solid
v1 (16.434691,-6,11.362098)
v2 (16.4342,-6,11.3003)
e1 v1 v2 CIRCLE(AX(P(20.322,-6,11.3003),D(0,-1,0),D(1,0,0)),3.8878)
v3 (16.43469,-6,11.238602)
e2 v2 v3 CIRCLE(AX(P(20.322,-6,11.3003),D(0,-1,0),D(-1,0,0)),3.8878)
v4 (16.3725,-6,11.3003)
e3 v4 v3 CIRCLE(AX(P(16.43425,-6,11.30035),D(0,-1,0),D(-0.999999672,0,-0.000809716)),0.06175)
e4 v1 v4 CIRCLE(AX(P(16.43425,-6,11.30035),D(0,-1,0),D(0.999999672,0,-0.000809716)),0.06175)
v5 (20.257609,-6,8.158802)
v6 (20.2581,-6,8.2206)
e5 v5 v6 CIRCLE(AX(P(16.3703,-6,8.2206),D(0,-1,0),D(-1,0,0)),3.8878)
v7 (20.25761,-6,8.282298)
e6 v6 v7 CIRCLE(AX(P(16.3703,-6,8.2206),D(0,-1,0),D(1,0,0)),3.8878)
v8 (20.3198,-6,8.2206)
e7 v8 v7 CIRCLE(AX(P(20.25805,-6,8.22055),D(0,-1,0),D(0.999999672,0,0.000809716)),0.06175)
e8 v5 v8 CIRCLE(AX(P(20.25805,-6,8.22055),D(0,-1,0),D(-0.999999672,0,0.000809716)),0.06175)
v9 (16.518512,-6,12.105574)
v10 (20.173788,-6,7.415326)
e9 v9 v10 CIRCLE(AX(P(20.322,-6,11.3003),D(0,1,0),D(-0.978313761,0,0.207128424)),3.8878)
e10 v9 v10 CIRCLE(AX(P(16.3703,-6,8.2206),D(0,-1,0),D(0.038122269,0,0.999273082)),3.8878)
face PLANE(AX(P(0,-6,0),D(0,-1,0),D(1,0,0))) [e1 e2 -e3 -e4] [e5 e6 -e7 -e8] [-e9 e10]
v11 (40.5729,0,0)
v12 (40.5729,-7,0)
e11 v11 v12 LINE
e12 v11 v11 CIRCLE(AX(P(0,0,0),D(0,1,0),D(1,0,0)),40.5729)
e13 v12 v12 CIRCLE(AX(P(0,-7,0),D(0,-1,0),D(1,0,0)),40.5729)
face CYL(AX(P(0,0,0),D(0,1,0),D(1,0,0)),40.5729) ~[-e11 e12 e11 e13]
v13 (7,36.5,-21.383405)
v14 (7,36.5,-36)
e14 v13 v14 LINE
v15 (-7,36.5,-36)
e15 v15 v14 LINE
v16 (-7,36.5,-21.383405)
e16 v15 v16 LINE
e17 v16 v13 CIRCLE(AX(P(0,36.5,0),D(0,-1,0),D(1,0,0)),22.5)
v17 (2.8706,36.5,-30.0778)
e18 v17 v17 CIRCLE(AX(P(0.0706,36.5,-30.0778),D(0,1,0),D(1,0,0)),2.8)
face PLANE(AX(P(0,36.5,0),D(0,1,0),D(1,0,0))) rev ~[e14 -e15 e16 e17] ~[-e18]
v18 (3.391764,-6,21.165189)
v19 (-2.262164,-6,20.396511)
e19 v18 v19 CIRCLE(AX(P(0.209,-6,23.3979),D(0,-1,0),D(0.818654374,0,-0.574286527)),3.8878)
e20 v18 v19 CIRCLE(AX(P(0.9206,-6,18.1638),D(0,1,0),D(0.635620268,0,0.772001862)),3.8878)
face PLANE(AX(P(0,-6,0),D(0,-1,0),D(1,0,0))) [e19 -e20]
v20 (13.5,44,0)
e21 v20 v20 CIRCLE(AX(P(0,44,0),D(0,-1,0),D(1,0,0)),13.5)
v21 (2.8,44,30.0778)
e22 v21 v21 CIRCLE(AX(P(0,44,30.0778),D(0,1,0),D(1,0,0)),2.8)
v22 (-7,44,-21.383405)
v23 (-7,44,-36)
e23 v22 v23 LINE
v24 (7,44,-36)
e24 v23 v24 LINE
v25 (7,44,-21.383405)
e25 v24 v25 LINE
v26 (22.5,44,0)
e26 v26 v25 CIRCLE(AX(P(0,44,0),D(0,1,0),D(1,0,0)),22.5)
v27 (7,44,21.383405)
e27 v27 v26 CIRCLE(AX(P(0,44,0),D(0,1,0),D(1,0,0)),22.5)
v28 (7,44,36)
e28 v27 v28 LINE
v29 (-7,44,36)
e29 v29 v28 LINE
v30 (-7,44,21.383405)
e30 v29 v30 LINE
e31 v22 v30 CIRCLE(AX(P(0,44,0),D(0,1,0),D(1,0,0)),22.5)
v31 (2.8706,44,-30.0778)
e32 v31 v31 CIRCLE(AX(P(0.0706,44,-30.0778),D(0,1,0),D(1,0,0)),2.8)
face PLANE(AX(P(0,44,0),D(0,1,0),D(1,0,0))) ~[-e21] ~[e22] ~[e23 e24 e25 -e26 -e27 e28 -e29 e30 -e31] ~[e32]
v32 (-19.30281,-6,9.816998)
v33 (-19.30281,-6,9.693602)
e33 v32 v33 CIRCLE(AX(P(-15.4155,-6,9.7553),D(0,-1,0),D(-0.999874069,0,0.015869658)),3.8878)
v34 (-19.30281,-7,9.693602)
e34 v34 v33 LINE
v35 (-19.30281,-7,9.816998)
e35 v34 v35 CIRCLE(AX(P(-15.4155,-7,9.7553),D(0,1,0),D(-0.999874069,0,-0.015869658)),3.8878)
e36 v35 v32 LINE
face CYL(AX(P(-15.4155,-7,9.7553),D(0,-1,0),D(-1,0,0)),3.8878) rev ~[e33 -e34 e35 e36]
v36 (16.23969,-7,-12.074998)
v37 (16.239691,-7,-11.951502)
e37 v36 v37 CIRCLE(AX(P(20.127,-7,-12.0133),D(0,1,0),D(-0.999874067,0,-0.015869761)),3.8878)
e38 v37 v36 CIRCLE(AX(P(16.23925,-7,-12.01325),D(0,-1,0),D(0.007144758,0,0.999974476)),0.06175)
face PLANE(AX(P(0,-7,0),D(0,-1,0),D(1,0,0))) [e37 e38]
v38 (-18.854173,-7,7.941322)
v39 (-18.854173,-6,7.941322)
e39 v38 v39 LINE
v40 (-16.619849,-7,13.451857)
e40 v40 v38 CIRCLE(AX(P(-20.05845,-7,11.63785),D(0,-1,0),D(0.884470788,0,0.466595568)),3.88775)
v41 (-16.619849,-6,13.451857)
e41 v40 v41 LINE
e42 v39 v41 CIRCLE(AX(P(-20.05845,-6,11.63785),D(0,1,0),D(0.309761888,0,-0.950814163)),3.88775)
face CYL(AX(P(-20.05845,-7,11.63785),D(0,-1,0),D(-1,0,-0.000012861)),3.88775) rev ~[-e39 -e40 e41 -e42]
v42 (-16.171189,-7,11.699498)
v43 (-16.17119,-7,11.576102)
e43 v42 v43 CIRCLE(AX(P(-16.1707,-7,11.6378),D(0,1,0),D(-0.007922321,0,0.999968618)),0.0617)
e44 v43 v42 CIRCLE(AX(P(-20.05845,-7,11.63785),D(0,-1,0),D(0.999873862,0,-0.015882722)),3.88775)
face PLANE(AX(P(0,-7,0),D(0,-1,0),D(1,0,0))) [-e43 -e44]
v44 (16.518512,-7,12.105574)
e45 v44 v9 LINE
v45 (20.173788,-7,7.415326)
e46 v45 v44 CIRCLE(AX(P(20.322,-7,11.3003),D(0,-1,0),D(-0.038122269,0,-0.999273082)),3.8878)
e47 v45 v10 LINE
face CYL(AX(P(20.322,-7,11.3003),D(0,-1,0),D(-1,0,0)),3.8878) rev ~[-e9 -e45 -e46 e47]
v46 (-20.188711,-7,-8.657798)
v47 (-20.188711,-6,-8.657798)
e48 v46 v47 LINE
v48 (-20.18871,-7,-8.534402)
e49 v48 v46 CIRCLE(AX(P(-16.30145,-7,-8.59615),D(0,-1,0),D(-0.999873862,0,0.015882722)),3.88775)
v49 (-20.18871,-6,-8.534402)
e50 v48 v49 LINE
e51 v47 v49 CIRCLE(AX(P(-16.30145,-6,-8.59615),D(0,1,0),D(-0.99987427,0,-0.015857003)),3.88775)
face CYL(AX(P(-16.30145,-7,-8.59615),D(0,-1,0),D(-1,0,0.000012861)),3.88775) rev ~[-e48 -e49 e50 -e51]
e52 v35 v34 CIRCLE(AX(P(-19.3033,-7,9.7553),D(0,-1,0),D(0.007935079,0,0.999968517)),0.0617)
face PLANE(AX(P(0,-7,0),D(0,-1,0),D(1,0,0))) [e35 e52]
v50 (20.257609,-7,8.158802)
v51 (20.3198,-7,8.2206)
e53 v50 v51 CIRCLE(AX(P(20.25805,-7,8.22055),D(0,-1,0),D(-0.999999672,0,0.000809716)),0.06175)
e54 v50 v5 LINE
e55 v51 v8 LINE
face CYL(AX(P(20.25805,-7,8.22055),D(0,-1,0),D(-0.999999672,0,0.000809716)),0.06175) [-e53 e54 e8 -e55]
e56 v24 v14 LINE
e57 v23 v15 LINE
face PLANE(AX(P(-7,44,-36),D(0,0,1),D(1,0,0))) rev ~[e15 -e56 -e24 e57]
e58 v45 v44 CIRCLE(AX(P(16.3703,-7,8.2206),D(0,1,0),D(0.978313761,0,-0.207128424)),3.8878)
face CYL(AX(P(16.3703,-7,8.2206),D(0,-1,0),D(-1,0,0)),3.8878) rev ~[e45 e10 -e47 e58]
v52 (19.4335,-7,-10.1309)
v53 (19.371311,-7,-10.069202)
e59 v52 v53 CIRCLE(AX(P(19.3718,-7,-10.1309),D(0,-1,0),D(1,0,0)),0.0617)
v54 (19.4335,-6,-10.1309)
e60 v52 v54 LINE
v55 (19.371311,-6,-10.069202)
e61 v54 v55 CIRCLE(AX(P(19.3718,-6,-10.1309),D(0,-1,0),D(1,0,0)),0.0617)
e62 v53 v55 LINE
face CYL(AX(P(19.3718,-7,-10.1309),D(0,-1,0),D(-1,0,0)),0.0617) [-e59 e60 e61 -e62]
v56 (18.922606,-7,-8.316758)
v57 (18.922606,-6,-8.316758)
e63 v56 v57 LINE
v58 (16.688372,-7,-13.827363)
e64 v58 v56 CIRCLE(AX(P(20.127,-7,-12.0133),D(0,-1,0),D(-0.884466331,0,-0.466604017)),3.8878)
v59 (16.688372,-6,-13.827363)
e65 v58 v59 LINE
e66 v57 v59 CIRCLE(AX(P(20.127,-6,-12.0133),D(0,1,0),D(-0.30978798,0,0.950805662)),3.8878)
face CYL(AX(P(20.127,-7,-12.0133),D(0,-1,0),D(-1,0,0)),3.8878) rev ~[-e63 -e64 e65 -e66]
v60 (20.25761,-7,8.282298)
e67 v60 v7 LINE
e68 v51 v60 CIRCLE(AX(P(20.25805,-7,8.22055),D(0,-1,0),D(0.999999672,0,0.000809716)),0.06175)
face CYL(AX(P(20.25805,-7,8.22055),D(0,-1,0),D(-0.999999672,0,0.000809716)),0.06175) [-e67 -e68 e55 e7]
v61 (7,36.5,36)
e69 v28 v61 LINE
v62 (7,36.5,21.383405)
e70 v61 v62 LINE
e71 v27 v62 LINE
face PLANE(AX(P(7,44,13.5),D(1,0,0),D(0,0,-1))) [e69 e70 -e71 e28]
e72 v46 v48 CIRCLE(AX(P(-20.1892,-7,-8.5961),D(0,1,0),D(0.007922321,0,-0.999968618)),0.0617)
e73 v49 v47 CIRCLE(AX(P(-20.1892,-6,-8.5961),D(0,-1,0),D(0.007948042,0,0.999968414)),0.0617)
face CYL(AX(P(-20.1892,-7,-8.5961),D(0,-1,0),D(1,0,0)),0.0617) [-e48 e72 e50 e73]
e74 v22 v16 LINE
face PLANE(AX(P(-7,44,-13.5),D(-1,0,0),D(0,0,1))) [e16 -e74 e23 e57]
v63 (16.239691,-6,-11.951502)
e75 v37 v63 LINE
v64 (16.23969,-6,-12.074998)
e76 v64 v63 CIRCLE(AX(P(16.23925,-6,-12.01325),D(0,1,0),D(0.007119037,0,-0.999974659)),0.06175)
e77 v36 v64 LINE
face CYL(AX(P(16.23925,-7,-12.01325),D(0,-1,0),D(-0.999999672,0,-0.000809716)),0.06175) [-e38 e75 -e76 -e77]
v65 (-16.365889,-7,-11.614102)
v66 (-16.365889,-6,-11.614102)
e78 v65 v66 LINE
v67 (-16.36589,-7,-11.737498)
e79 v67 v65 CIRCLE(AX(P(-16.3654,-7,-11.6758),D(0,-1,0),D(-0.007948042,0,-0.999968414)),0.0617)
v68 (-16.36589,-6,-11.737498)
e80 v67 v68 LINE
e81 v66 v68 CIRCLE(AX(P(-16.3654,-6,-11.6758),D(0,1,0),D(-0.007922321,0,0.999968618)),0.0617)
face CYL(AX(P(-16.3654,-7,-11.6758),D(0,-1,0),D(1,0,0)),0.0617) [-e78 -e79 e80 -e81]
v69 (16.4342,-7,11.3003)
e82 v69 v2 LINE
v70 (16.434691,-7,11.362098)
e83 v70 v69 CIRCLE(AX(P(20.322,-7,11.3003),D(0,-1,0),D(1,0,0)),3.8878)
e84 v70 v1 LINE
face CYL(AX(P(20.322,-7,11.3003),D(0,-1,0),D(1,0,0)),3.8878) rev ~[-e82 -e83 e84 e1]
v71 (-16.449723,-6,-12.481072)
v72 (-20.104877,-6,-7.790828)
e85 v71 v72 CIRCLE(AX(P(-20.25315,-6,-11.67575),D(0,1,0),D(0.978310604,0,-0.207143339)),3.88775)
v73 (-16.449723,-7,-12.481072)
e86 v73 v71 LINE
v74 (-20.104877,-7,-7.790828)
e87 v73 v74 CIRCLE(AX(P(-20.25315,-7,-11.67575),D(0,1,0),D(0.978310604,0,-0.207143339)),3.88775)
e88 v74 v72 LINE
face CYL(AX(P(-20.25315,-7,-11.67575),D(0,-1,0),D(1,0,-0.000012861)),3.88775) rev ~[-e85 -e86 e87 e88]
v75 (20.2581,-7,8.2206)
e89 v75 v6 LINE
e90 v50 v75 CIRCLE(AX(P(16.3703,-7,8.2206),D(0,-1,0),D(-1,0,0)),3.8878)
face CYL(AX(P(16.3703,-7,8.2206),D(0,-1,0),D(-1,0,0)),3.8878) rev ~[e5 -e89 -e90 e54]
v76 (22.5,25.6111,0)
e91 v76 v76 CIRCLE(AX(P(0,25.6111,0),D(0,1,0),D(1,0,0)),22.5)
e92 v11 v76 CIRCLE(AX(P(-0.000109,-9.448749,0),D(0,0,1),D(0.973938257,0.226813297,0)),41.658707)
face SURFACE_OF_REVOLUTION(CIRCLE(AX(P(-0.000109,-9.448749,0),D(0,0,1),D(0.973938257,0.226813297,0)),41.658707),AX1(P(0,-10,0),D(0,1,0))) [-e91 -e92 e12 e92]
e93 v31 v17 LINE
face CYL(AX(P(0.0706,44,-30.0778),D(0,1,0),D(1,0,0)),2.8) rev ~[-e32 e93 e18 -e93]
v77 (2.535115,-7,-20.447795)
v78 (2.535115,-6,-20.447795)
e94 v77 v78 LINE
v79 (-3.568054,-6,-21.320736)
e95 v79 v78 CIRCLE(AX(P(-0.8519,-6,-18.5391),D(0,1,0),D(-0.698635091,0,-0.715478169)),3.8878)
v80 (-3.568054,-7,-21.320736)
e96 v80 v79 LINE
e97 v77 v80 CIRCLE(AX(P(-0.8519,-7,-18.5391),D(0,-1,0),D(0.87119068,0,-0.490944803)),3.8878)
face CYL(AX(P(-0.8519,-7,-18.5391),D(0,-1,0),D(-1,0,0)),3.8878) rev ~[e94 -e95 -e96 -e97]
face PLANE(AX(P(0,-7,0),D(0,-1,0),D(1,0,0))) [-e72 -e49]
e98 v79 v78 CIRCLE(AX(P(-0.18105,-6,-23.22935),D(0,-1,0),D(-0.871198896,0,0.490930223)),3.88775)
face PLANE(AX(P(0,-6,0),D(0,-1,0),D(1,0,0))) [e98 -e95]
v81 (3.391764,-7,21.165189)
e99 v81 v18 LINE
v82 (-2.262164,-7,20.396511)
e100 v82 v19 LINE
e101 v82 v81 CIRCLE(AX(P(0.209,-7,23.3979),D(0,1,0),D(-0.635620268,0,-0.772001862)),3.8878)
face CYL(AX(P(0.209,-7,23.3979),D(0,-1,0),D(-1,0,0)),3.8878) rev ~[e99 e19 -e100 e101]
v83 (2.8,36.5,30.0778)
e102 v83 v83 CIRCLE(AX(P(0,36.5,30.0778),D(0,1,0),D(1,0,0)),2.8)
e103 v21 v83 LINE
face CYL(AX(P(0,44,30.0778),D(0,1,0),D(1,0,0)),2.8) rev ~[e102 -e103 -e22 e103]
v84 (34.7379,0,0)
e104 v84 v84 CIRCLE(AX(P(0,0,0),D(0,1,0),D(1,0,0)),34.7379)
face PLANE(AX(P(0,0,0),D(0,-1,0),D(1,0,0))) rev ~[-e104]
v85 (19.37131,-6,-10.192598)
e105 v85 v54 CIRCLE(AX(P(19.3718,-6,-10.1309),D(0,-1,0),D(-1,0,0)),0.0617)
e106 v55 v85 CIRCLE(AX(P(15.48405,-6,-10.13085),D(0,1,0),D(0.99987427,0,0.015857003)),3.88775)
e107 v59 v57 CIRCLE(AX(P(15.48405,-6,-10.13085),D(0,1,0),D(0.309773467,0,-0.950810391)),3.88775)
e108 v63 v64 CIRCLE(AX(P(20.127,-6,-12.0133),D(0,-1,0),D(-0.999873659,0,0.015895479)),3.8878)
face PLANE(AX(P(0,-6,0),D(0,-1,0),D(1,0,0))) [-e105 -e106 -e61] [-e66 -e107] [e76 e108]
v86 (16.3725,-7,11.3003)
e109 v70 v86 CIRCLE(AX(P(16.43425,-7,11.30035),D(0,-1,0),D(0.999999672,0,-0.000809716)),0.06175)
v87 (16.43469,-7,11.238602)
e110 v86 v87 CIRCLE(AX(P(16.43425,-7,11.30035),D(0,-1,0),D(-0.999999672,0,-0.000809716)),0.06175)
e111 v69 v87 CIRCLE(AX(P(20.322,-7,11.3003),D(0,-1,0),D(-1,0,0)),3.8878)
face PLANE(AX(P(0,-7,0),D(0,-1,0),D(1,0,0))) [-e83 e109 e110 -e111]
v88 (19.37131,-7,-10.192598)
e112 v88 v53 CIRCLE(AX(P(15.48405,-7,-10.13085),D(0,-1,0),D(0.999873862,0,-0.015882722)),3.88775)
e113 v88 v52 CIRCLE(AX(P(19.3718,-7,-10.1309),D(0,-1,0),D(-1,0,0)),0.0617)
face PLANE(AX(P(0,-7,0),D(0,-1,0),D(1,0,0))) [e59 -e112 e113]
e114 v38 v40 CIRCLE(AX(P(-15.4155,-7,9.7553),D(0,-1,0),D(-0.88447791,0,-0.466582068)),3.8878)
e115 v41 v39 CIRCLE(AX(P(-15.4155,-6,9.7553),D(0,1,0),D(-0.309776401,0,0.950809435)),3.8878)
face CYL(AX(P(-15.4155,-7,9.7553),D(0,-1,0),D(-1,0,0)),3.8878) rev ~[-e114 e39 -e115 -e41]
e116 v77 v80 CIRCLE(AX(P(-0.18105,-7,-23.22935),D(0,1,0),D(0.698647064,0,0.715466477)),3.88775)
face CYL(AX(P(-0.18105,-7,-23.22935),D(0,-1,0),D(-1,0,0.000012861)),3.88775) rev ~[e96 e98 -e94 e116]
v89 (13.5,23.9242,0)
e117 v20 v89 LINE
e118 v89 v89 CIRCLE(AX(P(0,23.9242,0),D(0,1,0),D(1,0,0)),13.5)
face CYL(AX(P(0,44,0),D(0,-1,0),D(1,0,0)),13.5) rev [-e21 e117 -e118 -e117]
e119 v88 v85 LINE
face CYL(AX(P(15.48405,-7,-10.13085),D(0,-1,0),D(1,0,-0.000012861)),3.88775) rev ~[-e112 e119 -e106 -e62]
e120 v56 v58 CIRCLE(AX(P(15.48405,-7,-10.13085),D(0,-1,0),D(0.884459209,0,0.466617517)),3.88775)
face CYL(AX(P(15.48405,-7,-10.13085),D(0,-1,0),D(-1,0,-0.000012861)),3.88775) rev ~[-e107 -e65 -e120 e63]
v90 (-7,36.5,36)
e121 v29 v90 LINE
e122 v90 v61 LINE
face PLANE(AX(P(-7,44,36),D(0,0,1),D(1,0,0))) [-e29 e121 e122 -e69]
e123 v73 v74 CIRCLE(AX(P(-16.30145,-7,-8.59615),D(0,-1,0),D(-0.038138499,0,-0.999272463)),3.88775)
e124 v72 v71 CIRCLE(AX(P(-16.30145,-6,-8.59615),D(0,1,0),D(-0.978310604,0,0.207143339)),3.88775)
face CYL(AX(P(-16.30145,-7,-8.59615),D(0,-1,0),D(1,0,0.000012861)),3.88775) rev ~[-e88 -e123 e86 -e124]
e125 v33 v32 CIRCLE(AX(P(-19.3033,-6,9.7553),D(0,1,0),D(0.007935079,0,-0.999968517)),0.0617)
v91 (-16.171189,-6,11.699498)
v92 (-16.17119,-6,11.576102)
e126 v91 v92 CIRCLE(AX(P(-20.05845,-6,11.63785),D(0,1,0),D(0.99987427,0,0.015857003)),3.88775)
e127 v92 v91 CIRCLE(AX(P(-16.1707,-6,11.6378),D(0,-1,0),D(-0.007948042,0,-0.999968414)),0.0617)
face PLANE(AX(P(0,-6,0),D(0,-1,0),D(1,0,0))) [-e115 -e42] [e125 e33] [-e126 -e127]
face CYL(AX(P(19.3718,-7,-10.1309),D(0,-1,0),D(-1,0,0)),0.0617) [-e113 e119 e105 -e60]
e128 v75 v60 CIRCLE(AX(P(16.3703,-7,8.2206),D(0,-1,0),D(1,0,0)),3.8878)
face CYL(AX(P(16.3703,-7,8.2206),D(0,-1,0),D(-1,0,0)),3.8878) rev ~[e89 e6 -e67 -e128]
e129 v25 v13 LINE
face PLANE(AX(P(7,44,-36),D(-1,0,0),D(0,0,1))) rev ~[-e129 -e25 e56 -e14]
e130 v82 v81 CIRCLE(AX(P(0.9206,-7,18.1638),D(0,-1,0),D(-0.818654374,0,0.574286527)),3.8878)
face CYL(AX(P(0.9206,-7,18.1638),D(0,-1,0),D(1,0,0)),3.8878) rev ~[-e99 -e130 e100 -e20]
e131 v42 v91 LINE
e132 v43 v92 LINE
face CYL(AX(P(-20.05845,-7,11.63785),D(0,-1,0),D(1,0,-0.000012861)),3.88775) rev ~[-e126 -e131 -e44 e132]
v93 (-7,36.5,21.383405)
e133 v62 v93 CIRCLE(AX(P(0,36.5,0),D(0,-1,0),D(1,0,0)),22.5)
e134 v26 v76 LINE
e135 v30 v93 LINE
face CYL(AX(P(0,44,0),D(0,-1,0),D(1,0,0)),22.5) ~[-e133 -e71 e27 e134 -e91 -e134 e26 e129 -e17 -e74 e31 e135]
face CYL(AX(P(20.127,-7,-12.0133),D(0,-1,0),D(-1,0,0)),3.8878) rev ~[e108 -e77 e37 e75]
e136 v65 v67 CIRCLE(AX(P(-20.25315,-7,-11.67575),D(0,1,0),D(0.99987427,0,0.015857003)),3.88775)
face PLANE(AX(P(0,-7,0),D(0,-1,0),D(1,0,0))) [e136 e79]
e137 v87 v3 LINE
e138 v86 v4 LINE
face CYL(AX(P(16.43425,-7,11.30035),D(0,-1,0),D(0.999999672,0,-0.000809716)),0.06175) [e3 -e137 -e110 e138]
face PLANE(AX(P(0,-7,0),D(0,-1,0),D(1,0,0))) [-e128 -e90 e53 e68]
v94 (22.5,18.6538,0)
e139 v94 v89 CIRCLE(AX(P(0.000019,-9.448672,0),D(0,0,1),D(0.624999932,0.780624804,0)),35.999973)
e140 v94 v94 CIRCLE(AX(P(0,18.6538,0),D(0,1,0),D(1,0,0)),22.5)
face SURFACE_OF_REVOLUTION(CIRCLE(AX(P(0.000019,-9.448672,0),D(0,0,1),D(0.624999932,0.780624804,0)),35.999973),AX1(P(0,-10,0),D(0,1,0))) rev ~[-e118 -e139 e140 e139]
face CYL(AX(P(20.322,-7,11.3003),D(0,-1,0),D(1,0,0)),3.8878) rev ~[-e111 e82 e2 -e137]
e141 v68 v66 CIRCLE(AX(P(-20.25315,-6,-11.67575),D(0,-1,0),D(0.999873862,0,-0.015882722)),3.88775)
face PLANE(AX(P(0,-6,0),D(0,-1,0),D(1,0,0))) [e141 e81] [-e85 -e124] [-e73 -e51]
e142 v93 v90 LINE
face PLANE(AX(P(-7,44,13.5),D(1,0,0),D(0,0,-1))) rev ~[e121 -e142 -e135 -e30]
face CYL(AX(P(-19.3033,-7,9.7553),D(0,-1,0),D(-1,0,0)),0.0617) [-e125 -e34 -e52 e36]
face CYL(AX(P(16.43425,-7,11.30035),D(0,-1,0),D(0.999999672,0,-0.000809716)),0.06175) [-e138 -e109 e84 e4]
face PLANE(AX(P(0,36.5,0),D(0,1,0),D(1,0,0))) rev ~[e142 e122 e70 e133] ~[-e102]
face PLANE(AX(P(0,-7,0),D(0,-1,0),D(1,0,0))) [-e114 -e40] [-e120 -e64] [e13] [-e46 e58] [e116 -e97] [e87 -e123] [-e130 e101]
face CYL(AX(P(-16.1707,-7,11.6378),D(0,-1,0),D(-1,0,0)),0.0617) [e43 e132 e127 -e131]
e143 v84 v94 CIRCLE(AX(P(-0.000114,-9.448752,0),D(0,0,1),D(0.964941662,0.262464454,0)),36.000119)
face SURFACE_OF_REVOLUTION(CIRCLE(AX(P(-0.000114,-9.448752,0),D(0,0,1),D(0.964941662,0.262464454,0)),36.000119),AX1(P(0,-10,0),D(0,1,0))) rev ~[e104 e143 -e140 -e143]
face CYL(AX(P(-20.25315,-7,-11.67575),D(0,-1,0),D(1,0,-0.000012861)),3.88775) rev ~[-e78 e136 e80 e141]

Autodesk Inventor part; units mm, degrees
ref_plane "YZ Plane" through (0, 0, 0) normal (1, 0, 0) x (0, 1, 0)
ref_plane "XZ Plane" through (0, 0, 0) normal (0, 1, 0) x (-1, 0, 0)
ref_plane "XY Plane" through (0, 0, 0) normal (0, 0, 1) x (1, 0, 0)
sketch "Sketch1" plane through (0, 0, 0) normal (0, 0, 1) x (1, 0, 0)
  line L0 (22.5, 44) -> (22.5, 25.6111)
  line L1 (13.5, 44) -> (13.5, 29.9618)
  arc A0 (22.5, 18.6538) -> (13.5, 23.9242) centre (0, -9.4487) ccw
  arc A1 (34.7379, 0) -> (22.5, 18.6538) centre (0, -9.4487) ccw
  arc A2 (40.5729, 0) -> (22.5, 25.6111) centre (0, -9.4487) ccw
  line L2 (13.5, 29.9618) -> (13.5, 23.9242)
  line L3 (13.5, 44) -> (22.5, 44)
  line L4 (34.7379, 0) -> (40.5729, 0)
  line L5 (0, -20.1384) -> (0, 54.6897) projected
  point P0 (0, 0)
revolve "Revolution1" add sketch "Sketch1" angle 360 about axis through (0, -10, 0) along (0, 1, 0)
sketch "Sketch2" plane through (0, 44, 0) normal (0, 1, 0) x (1, 0, 0)
  line L0 (-7, -13.5) -> (-7, -36)
  line L1 (-7, -36) -> (7, -36)
  line L2 (7, -36) -> (7, -13.5)
  line L3 (7, -13.5) -> (7, -11.5434)
  circle A0 centre (0, 0) radius 13.5 projected
  line L4 (-7, -13.5) -> (-7, -11.5434)
  line L5 (-7, 13.5) -> (-7, 36)
  line L6 (-7, 36) -> (7, 36)
  line L7 (7, 36) -> (7, 13.5)
  line L8 (-7, 13.5) -> (-7, 11.5434)
  line L9 (7, 13.5) -> (7, 11.5434)
  dimension "d12" = 14
  dimension "d13" = 22.5
  dimension "d16" = 14
  dimension "d17" = 22.5
extrude "Extrusion1" add sketch "Sketch2" against normal blind 7.5 contours L4 A0 L3 L2 L1 L0 | L8 L5 L6 L7 L9 A0
sketch "Sketch3" plane through (-7, 44, -36) normal (0, 1, 0) x (1, 0, 0)
  circle A0 centre (7, -66.0778) radius 2.8
  circle A1 centre (7.0706, -5.9222) radius 2.8
  line L0 (14, -14.6166) -> (14, 0) projected
  point P0 (7, -36)
  dimension "d20" = 5.6
  dimension "d21" = 5.6
extrude "Extrusion2" cut sketch "Sketch3" against normal blind 7.5
sketch "Sketch4" plane through (0, 0, 0) normal (0, -1, 0) x (1, 0, 0)
  circle A0 centre (0, 0) radius 40.5729
extrude "Extrusion3" add sketch "Sketch4" along normal blind 7
sketch "Sketch5" plane through (0, -7, 0) normal (0, -1, 0) x (1, 0, 0)
  arc A0 (16.1775, -12.0133) -> (16.301, -12.0133) centre (16.2392, -12.0133) ccw
  arc A1 (16.301, -12.0133) -> (16.1775, -12.0133) centre (16.2392, -12.0133) ccw
  arc A2 (23.9531, -12.0133) -> (24.0765, -12.0133) centre (24.0148, -12.0133) ccw
  arc A3 (24.0765, -12.0133) -> (23.9531, -12.0133) centre (24.0148, -12.0133) ccw
  arc A4 (24.0148, -12.0133) -> (16.2392, -12.0133) centre (20.127, -12.0133) ccw
  arc A5 (16.2392, -12.0133) -> (24.0148, -12.0133) centre (20.127, -12.0133) ccw
  arc A6 (19.3718, -10.1309) -> (11.5963, -10.1309) centre (15.484, -10.1309) ccw
  arc A7 (11.5963, -10.1309) -> (19.3718, -10.1309) centre (15.484, -10.1309) ccw
  arc A8 (19.3101, -10.1309) -> (19.4335, -10.1309) centre (19.3718, -10.1309) ccw
  arc A9 (19.4335, -10.1309) -> (19.3101, -10.1309) centre (19.3718, -10.1309) ccw
  arc A10 (12.4208, 8.2206) -> (12.5442, 8.2206) centre (12.4825, 8.2206) ccw
  arc A11 (12.5442, 8.2206) -> (12.4208, 8.2206) centre (12.4825, 8.2206) ccw
  arc A12 (20.1963, 8.2206) -> (20.3198, 8.2206) centre (20.2581, 8.2206) ccw
  arc A13 (20.3198, 8.2206) -> (20.1963, 8.2206) centre (20.2581, 8.2206) ccw
  arc A14 (16.3725, 11.3003) -> (16.496, 11.3003) centre (16.4342, 11.3003) ccw
  arc A15 (16.496, 11.3003) -> (16.3725, 11.3003) centre (16.4342, 11.3003) ccw
  arc A16 (20.2581, 8.2206) -> (12.4825, 8.2206) centre (16.3703, 8.2206) ccw
  arc A17 (12.4825, 8.2206) -> (20.2581, 8.2206) centre (16.3703, 8.2206) ccw
  arc A18 (24.1481, 11.3003) -> (24.2715, 11.3003) centre (24.2098, 11.3003) ccw
  arc A19 (24.2715, 11.3003) -> (24.1481, 11.3003) centre (24.2098, 11.3003) ccw
  arc A20 (24.2098, 11.3003) -> (16.4342, 11.3003) centre (20.322, 11.3003) ccw
  arc A21 (16.4342, 11.3003) -> (24.2098, 11.3003) centre (20.322, 11.3003) ccw
  arc A22 (-16.4271, -11.6758) -> (-16.3037, -11.6758) centre (-16.3654, -11.6758) ccw
  arc A23 (-16.3037, -11.6758) -> (-16.4271, -11.6758) centre (-16.3654, -11.6758) ccw
  arc A24 (-12.4137, -8.5961) -> (-20.1892, -8.5961) centre (-16.3014, -8.5961) ccw
  arc A25 (-20.1892, -8.5961) -> (-12.4137, -8.5961) centre (-16.3014, -8.5961) ccw
  arc A26 (-20.2509, -8.5961) -> (-20.1275, -8.5961) centre (-20.1892, -8.5961) ccw
  arc A27 (-20.1275, -8.5961) -> (-20.2509, -8.5961) centre (-20.1892, -8.5961) ccw
  arc A28 (-12.4754, -8.5961) -> (-12.3519, -8.5961) centre (-12.4137, -8.5961) ccw
  arc A29 (-12.3519, -8.5961) -> (-12.4754, -8.5961) centre (-12.4137, -8.5961) ccw
  arc A30 (3.7067, -23.2293) -> (-4.0688, -23.2293) centre (-0.181, -23.2293) ccw
  arc A31 (-4.0688, -23.2293) -> (3.7067, -23.2293) centre (-0.181, -23.2293) ccw
  arc A32 (3.0359, -18.5391) -> (-4.7397, -18.5391) centre (-0.8519, -18.5391) ccw
  arc A33 (-4.7397, -18.5391) -> (3.0359, -18.5391) centre (-0.8519, -18.5391) ccw
  arc A34 (-24.2027, -11.6758) -> (-24.0792, -11.6758) centre (-24.1409, -11.6758) ccw
  arc A35 (-24.0792, -11.6758) -> (-24.2027, -11.6758) centre (-24.1409, -11.6758) ccw
  arc A36 (-16.3654, -11.6758) -> (-24.1409, -11.6758) centre (-20.2532, -11.6758) ccw
  arc A37 (-24.1409, -11.6758) -> (-16.3654, -11.6758) centre (-20.2532, -11.6758) ccw
  arc A38 (-19.365, 9.7553) -> (-19.2416, 9.7553) centre (-19.3033, 9.7553) ccw
  arc A39 (-19.2416, 9.7553) -> (-19.365, 9.7553) centre (-19.3033, 9.7553) ccw
  arc A40 (-11.5277, 9.7553) -> (-19.3033, 9.7553) centre (-15.4155, 9.7553) ccw
  arc A41 (-19.3033, 9.7553) -> (-11.5277, 9.7553) centre (-15.4155, 9.7553) ccw
  arc A42 (-11.5894, 9.7553) -> (-11.466, 9.7553) centre (-11.5277, 9.7553) ccw
  arc A43 (-11.466, 9.7553) -> (-11.5894, 9.7553) centre (-11.5277, 9.7553) ccw
  arc A44 (-24.008, 11.6378) -> (-23.8845, 11.6378) centre (-23.9462, 11.6378) ccw
  arc A45 (-23.8845, 11.6378) -> (-24.008, 11.6378) centre (-23.9462, 11.6378) ccw
  arc A46 (-16.1707, 11.6378) -> (-23.9462, 11.6378) centre (-20.0585, 11.6378) ccw
  arc A47 (-23.9462, 11.6378) -> (-16.1707, 11.6378) centre (-20.0585, 11.6378) ccw
  arc A48 (-16.2324, 11.6378) -> (-16.109, 11.6378) centre (-16.1707, 11.6378) ccw
  arc A49 (-16.109, 11.6378) -> (-16.2324, 11.6378) centre (-16.1707, 11.6378) ccw
  arc A50 (-3.7405, 23.3979) -> (-3.617, 23.3979) centre (-3.6788, 23.3979) ccw
  arc A51 (-3.617, 23.3979) -> (-3.7405, 23.3979) centre (-3.6788, 23.3979) ccw
  arc A52 (4.0351, 23.3979) -> (4.1585, 23.3979) centre (4.0968, 23.3979) ccw
  arc A53 (4.1585, 23.3979) -> (4.0351, 23.3979) centre (4.0968, 23.3979) ccw
  arc A54 (4.0968, 23.3979) -> (-3.6788, 23.3979) centre (0.209, 23.3979) ccw
  arc A55 (-3.6788, 23.3979) -> (4.0968, 23.3979) centre (0.209, 23.3979) ccw
  arc A56 (-3.0289, 18.1638) -> (-2.9055, 18.1638) centre (-2.9672, 18.1638) ccw
  arc A57 (-2.9055, 18.1638) -> (-3.0289, 18.1638) centre (-2.9672, 18.1638) ccw
  arc A58 (4.7467, 18.1638) -> (4.8701, 18.1638) centre (4.8084, 18.1638) ccw
  arc A59 (4.8701, 18.1638) -> (4.7467, 18.1638) centre (4.8084, 18.1638) ccw
  arc A60 (4.8084, 18.1638) -> (-2.9672, 18.1638) centre (0.9206, 18.1638) ccw
  arc A61 (-2.9672, 18.1638) -> (4.8084, 18.1638) centre (0.9206, 18.1638) ccw
extrude "Extrusion4" cut sketch "Sketch5" against normal blind 1 contours A0 A5 A7 A6 A4 A1 | A5 A4 A1 A0 | A0 A1 A4 A6 A9 A8 A7 A5 | A7 A8 A9 A6 A4 A3 A2 A5 | A2 A3 A4 A5 | A8 A9 A6 A7 | A17 A16 A11 A10 | A10 A11 A16 A20 A15 A14 A21 A17 | A21 A14 A15 A20 A16 A13 A12 A17 | A17 A12 A13 A16 A20 A19 A18 A21 | A12 A13 A16 A17 | A21 A20 A15 A14 | A18 A19 A20 A21 | A23 A36 A37 A22 | A22 A37 A25 A26 A27 A24 A36 A23 | A22 A23 A36 A24 A29 A28 A25 A37 | A37 A34 A35 A36 A24 A27 A26 A25 | A25 A24 A27 A26 | A28 A29 A24 A25 | A37 A36 A35 A34 | A31 A30 A33 | A33 A30 | A30 A33 A32 | A38 A41 A47 A44 A45 A46 A40 A39 | A41 A40 A39 A38 | A38 A39 A40 A46 A49 A48 A47 A41 | A47 A48 A49 A46 A40 A43 A42 A41 | A42 A43 A40 A41 | A47 A46 A45 A44 | A48 A49 A46 A47 | A55 A54 A51 A50 | A50 A51 A54 A53 A52 A55 A60 | A60 A55 | A55 A60 A59 A58 A61 A56 A57 | A54 A55 A52 A53 | A57 A56 A61 A60 | A60 A61 A58 A59 picked at (16.2777, -12.003) picked at (23.9764, -12.0235) picked at (19.3334, -10.1207) picked at (12.5209, 8.2104) picked at (20.2196, 8.2103) picked at (16.4727, 11.3106) picked at (24.1714, 11.2901) picked at (-16.4038, -11.6656) picked at (-20.1508, -8.6063) picked at (-12.4521, -8.5859) picked at (-24.1025, -11.686) picked at (-19.2649, 9.7655) picked at (-11.5661, 9.7451) picked at (-23.9078, 11.6276) picked at (-16.2091, 11.648) picked at (-3.6403, 23.4082) picked at (4.0584, 23.4081) picked at (-2.9288, 18.1536) picked at (4.77, 18.174)
sketch "Sketch6" plane through (0, -7, 0) normal (0, -1, 0) x (1, 0, 0)
  point P0 (0, 0)
sketch "Sketch7" plane through (0, -7, 0) normal (0, -1, 0) x (1, 0, 0)
  point P0 (0, 0)
sketch "Sketch8" plane through (0, -7, 0) normal (0, -1, 0) x (1, 0, 0)
  point P0 (0, 0)
properties part number "Sensing gripper"
